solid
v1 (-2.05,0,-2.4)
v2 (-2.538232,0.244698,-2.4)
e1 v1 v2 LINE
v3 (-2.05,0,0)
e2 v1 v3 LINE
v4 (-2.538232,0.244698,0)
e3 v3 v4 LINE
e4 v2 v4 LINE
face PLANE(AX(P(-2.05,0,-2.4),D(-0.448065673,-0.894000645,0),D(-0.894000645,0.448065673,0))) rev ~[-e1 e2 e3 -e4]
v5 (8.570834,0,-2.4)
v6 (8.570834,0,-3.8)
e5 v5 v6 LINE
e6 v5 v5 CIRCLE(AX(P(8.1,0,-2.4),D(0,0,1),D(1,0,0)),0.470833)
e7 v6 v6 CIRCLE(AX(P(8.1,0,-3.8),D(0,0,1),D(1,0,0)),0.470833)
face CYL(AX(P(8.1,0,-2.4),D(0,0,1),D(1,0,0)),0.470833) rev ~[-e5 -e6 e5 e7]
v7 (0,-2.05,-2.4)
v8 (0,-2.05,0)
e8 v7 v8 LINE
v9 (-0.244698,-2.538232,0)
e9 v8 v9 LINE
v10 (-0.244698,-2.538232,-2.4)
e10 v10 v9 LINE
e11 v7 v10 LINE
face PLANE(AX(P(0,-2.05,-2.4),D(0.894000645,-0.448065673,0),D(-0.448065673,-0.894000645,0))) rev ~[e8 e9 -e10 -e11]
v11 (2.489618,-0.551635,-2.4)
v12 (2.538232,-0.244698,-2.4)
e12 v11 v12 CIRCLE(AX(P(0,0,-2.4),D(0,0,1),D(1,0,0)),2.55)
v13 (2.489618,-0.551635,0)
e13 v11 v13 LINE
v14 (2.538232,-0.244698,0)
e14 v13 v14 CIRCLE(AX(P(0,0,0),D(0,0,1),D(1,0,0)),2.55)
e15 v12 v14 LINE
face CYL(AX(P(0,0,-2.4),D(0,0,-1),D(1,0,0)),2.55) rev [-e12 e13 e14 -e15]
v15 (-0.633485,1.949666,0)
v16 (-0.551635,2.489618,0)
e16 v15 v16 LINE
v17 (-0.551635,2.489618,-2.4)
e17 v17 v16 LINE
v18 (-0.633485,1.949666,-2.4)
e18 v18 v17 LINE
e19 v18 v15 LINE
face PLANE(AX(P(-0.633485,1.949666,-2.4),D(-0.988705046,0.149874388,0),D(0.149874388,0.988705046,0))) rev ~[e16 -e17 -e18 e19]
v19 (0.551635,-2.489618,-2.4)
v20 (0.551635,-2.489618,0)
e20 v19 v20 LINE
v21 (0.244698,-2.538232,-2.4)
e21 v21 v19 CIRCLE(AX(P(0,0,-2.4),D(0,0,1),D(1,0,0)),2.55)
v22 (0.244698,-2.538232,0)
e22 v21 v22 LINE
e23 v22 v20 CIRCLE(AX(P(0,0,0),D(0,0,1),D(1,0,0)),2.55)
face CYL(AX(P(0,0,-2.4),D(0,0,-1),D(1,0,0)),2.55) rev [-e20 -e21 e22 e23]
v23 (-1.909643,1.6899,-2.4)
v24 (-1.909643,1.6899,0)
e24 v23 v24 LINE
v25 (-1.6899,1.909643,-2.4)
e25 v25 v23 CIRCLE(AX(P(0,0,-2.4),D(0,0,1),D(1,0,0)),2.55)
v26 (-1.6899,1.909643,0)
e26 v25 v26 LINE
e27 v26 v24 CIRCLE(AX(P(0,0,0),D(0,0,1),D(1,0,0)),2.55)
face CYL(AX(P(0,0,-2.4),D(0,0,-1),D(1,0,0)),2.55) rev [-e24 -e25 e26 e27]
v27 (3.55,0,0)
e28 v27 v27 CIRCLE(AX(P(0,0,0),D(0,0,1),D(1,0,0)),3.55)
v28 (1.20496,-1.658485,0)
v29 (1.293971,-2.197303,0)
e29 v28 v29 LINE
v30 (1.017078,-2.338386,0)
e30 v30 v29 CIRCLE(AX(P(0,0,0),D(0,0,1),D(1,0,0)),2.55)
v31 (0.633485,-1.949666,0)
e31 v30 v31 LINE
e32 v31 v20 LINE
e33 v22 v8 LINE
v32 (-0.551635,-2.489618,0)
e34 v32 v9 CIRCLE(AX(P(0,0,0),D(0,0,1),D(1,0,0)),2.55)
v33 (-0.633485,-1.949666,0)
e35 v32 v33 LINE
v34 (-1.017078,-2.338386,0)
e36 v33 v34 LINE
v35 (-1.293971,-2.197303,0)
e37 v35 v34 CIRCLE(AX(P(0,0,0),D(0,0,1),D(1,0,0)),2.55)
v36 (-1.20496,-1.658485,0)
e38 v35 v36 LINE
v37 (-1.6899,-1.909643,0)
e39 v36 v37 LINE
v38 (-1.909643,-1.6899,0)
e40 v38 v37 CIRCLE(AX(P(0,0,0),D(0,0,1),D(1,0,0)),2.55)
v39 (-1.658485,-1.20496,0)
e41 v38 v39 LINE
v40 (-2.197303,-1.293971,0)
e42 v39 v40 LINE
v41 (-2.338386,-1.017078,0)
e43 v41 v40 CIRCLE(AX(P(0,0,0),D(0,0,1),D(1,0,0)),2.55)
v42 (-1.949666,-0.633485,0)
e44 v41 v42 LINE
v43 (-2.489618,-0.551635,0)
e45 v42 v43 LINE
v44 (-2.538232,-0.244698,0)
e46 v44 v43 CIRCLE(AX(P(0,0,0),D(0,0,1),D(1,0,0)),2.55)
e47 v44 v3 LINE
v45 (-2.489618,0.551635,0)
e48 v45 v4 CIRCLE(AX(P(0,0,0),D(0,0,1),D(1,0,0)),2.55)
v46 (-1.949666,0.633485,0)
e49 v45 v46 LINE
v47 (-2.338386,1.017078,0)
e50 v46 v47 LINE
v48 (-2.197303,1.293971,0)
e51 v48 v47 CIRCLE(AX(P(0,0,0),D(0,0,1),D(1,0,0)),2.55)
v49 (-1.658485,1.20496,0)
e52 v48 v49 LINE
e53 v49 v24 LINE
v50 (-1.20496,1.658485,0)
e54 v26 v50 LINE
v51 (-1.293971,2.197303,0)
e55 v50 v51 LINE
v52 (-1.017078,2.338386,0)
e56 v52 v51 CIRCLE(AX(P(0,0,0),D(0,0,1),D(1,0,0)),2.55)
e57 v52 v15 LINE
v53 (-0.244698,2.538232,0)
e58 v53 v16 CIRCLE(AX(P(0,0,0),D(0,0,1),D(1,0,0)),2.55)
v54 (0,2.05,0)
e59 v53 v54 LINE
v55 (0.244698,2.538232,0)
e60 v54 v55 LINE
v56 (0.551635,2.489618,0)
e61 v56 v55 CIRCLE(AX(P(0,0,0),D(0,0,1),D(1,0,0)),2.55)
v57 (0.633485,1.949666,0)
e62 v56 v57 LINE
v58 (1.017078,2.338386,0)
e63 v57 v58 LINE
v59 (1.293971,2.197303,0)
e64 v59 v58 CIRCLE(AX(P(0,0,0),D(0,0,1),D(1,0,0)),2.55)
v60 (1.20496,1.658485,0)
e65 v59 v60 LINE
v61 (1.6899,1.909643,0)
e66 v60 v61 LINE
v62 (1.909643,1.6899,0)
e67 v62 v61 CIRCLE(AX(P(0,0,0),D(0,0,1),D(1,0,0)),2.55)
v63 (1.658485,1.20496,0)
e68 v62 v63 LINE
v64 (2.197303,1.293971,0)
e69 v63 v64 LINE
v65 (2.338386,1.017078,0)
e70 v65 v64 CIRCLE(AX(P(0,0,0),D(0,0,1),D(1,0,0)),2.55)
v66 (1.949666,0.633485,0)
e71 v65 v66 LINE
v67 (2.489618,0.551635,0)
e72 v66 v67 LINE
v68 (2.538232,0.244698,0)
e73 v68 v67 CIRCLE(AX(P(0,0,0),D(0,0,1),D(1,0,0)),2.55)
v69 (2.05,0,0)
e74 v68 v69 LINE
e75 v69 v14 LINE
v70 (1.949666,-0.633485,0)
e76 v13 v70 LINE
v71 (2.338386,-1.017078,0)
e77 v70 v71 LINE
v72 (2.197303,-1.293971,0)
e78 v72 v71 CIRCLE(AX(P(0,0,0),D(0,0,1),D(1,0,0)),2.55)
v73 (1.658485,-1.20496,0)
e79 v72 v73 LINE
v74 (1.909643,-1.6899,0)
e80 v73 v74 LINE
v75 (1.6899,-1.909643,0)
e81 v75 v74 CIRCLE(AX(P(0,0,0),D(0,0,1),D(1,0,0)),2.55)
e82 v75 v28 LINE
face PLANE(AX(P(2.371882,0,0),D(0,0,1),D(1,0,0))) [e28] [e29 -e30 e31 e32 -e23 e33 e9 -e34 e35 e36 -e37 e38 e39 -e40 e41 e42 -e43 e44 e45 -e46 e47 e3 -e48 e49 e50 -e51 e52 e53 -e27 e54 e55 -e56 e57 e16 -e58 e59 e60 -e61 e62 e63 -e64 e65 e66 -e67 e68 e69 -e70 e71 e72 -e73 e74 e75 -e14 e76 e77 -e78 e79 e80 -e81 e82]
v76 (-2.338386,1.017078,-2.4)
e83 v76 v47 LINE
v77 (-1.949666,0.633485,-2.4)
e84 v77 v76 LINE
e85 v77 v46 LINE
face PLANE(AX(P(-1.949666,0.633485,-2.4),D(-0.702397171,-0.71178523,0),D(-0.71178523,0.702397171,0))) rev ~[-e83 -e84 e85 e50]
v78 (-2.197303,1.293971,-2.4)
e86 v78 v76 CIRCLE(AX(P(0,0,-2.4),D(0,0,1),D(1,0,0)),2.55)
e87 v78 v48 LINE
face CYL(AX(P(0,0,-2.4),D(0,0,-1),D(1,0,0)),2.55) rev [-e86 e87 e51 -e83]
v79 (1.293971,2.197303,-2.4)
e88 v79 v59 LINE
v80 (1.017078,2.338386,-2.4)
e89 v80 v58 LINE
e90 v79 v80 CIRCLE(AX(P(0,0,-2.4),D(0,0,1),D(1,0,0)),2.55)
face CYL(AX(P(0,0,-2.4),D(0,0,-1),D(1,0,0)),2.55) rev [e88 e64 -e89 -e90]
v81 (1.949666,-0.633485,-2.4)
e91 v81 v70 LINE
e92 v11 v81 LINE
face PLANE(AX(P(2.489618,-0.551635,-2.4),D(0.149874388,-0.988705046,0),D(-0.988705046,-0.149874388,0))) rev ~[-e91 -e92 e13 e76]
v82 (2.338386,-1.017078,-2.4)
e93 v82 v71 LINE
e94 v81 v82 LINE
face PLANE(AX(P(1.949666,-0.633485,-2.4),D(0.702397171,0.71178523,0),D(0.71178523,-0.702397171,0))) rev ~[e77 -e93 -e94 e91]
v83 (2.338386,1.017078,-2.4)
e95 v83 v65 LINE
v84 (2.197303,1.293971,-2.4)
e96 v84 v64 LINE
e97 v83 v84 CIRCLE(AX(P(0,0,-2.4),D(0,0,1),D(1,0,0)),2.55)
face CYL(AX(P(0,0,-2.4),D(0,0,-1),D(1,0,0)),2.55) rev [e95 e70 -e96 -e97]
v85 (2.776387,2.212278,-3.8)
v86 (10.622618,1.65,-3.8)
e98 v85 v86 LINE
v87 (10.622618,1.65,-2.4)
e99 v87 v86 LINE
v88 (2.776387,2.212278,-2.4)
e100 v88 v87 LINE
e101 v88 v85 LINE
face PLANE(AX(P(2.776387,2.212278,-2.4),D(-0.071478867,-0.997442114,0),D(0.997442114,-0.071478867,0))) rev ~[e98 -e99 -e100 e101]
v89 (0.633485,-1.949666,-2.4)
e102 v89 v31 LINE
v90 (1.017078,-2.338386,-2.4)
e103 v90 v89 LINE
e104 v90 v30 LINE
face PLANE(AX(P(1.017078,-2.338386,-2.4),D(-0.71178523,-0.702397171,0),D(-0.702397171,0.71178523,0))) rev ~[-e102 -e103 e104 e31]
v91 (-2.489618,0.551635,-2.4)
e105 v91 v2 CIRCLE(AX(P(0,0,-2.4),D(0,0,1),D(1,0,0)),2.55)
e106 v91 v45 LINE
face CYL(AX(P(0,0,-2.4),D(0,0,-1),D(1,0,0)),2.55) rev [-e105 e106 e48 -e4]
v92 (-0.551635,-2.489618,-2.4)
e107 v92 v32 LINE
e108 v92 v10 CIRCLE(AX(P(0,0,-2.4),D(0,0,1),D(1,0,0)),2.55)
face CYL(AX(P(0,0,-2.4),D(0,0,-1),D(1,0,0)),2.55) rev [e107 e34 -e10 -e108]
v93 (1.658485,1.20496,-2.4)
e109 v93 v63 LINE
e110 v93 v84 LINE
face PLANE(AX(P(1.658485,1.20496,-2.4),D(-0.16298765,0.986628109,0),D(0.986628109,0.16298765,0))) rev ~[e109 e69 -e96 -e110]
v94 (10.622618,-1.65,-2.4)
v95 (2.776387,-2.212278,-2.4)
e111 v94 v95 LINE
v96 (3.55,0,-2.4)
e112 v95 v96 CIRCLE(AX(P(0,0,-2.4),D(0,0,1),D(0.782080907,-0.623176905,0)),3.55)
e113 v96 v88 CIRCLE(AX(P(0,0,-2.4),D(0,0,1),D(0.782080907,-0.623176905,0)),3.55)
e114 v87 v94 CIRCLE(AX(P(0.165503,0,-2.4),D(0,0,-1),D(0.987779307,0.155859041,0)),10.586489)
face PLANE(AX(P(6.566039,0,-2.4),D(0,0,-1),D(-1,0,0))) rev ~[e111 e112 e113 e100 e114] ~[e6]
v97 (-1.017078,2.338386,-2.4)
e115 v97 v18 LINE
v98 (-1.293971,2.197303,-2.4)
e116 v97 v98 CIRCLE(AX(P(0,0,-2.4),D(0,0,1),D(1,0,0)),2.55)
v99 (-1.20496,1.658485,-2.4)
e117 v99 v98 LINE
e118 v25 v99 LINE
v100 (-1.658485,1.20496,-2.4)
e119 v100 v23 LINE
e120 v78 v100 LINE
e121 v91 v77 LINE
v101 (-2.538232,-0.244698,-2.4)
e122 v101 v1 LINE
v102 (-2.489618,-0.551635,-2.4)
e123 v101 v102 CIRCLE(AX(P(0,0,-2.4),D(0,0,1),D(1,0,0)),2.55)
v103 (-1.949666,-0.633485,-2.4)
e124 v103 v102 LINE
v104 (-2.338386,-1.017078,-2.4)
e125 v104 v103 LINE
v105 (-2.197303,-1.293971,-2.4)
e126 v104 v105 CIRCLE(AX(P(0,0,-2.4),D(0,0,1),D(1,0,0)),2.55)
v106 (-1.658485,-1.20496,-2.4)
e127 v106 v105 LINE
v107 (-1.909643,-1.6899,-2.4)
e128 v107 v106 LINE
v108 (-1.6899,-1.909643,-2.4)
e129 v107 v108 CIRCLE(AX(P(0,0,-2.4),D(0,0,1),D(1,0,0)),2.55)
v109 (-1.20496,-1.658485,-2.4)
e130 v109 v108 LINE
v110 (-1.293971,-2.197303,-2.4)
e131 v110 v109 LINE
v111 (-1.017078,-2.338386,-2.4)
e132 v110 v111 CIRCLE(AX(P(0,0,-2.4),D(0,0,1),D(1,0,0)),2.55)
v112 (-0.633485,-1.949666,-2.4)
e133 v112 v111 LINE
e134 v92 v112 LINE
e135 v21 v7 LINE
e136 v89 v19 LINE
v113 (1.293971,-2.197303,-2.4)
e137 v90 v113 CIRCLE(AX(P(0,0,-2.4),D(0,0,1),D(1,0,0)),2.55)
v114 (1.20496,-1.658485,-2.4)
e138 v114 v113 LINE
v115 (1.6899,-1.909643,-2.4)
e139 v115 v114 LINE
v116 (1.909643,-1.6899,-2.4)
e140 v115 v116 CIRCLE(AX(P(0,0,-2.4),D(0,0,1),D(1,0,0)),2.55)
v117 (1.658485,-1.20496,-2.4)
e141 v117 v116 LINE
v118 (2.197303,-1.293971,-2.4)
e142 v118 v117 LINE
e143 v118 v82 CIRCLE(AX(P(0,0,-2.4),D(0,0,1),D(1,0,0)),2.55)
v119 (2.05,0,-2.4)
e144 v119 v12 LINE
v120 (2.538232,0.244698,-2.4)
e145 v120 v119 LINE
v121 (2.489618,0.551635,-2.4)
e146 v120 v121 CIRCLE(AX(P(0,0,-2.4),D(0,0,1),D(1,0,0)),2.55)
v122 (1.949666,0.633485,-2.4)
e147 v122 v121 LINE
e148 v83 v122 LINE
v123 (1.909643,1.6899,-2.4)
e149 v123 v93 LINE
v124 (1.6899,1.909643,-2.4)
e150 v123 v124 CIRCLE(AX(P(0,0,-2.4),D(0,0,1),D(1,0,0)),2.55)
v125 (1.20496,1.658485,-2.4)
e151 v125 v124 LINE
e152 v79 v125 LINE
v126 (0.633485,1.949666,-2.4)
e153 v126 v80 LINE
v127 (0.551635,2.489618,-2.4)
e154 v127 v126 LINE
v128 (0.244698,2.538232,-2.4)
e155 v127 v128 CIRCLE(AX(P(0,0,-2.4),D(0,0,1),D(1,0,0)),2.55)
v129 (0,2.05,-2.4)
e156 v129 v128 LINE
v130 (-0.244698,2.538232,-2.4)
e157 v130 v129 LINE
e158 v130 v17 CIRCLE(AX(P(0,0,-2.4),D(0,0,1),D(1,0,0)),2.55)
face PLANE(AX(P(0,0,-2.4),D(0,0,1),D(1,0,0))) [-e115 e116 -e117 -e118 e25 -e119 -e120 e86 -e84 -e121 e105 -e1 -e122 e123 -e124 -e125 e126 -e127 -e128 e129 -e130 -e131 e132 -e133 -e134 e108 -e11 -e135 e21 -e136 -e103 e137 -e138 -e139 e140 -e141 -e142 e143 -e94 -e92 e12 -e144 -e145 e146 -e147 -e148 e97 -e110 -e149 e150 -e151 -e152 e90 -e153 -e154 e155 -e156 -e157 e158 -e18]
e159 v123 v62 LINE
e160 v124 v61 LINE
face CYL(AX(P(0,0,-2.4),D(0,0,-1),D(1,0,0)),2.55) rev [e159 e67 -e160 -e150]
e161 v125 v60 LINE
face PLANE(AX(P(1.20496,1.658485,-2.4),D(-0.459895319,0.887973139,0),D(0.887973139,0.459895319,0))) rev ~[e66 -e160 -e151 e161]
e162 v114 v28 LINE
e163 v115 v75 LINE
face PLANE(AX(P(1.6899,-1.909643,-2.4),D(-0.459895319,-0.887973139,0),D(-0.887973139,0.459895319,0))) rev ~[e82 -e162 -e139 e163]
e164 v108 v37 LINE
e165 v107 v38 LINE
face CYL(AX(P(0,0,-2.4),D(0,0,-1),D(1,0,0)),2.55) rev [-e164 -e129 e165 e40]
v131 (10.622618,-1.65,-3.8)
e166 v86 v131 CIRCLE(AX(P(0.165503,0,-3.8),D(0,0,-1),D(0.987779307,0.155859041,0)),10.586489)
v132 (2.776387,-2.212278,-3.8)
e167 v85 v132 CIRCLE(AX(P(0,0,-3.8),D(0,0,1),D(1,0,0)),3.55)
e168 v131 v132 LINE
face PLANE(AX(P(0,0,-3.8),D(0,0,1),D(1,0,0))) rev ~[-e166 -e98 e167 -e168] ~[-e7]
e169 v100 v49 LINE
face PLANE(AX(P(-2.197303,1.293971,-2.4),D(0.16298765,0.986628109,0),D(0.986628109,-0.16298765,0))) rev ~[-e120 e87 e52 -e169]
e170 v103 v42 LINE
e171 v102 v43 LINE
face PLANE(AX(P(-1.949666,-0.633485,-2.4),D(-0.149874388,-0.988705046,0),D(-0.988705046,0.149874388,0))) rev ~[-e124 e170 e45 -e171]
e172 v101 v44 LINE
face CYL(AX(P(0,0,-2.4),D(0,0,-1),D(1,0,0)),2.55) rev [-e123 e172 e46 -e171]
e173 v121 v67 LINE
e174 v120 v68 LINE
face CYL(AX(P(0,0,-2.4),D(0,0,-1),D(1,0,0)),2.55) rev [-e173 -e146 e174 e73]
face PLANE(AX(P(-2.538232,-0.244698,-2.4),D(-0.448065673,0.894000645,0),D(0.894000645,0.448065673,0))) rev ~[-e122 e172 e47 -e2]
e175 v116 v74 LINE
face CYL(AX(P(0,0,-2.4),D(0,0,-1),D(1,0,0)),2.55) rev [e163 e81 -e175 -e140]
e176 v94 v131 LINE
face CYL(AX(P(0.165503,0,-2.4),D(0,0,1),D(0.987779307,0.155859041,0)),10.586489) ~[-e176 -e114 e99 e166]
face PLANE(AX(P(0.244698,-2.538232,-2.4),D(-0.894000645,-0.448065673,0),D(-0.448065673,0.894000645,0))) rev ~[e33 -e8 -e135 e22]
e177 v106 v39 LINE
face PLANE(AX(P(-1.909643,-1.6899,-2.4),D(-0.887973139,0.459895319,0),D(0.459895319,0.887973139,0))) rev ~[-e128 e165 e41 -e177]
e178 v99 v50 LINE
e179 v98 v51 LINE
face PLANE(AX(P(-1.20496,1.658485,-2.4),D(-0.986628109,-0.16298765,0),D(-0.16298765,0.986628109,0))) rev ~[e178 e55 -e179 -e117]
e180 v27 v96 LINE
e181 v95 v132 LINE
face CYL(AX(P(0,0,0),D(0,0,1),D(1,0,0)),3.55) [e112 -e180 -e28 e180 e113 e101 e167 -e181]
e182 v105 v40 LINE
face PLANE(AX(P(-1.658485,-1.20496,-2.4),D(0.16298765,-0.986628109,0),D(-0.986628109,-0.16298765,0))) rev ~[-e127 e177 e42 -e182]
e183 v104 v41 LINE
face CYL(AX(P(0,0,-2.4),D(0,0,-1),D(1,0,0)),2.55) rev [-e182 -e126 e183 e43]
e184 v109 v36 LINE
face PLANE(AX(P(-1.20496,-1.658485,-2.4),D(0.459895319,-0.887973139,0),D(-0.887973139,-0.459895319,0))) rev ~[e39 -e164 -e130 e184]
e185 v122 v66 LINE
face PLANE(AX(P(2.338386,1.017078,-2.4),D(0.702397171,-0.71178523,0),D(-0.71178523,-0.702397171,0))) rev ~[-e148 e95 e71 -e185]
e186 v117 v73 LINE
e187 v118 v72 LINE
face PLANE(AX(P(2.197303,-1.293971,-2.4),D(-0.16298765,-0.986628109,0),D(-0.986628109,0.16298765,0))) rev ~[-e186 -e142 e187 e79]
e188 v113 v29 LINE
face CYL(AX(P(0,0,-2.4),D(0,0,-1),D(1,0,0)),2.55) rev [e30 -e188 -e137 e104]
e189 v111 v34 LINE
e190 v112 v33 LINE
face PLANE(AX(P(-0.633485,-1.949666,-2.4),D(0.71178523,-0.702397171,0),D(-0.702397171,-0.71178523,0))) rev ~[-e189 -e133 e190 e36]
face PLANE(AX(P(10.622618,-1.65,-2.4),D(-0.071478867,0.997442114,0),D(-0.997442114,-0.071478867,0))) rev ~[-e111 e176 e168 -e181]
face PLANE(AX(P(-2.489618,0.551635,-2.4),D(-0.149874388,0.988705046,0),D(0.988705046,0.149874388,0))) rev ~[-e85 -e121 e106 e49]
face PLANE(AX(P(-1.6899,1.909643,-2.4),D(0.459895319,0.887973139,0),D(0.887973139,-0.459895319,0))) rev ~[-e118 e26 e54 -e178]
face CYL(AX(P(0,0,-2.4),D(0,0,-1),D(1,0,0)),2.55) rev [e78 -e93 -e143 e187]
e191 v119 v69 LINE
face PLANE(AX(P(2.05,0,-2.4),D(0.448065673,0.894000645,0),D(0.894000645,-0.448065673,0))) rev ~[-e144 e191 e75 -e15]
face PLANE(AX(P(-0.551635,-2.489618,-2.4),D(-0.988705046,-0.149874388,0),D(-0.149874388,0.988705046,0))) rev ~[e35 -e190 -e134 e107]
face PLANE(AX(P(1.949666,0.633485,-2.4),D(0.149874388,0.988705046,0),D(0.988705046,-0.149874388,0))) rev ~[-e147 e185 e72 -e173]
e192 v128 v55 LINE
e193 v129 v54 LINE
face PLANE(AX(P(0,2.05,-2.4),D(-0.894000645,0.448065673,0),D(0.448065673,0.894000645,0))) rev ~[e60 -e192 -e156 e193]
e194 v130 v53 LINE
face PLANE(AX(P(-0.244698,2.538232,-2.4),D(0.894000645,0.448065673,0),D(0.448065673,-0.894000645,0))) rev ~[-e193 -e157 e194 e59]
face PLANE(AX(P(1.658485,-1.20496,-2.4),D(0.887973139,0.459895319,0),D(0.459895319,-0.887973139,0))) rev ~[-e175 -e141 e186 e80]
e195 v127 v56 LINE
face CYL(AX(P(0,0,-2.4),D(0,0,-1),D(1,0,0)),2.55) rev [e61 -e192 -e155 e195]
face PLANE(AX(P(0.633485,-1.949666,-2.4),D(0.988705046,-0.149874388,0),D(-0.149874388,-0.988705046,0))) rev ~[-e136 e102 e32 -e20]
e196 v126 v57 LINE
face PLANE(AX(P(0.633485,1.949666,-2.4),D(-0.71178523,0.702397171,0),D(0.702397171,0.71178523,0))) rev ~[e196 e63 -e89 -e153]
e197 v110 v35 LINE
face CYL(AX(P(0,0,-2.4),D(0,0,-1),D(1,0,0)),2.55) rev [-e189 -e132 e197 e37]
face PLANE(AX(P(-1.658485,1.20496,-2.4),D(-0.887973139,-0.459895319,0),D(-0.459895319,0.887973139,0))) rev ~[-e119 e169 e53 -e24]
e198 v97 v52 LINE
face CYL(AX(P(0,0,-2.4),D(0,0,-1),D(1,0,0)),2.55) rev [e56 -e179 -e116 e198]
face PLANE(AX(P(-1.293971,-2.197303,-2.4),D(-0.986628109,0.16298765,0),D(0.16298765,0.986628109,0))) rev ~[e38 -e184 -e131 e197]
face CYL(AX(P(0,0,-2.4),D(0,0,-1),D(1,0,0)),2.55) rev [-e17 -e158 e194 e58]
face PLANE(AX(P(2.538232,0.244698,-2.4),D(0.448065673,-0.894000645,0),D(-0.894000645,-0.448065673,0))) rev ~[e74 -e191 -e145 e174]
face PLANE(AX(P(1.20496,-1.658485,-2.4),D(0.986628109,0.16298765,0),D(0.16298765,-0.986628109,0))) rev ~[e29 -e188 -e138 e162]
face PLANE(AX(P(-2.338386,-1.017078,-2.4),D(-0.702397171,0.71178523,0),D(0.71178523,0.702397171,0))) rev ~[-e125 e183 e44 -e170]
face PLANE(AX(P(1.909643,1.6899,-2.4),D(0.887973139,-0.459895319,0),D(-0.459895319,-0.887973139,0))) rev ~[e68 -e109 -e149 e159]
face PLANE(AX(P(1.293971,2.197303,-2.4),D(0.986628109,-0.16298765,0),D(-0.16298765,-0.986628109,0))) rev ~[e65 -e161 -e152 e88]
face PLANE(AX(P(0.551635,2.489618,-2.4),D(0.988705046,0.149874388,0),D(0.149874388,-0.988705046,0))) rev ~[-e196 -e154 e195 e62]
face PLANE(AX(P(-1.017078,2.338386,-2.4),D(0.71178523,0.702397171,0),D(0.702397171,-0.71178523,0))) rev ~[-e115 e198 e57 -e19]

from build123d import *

# Parameters (mm, degrees)
BOSS_EXTRUDE2_DEPTH = 1.4
SKETCH6_R           = 0.47083328
CUT_EXTRUDE1_DEPTH  = 12.066142252
SKETCH8_R           = 3.549999952
BOSS_EXTRUDE3_DEPTH = 3.8
CUT_EXTRUDE2_START  = -2.4
SKETCH9_R           = 2.549999919
CUT_EXTRUDE2_DEPTH  = 2.4
BOSS_EXTRUDE4_START = -2.4
BOSS_EXTRUDE4_DEPTH = 2.4


with BuildPart() as part:
    # Sketch5 → Boss-Extrude2 (new body)
    with BuildSketch(Plane.XY.offset(-2.4)):
        with BuildLine():
            Line((2.776387215, 2.212277889), (10.622617722, 1.649999976))
            ThreePointArc((10.622617722, 1.649999976), (10.75199195, 0), (10.622617722, -1.649999976))
            Line((10.622617722, -1.649999976), (2.776387215, -2.212277889))
            ThreePointArc((2.776387215, -2.212277889), (3.549999952, 0), (2.776387215, 2.212277889))
        make_face()
    extrude(amount=-BOSS_EXTRUDE2_DEPTH)

    # Sketch6 → Cut-Extrude1 (cut, through all)
    with BuildSketch(Plane.XY.offset(-2.4)):
        with Locations((8.100000381, 0)):
            Circle(SKETCH6_R)
    extrude(amount=-CUT_EXTRUDE1_DEPTH, mode=Mode.SUBTRACT)

    # Sketch8 → Boss-Extrude3 (add)
    with BuildSketch(Plane.XY):
        Circle(SKETCH8_R)
    extrude(amount=-BOSS_EXTRUDE3_DEPTH)

    # Sketch9 → Cut-Extrude2 (cut)
    with BuildSketch(Plane.XY.offset(CUT_EXTRUDE2_START)):
        Circle(SKETCH9_R)
    extrude(amount=CUT_EXTRUDE2_DEPTH, mode=Mode.SUBTRACT)

    # Sketch7 → Boss-Extrude4 (add)
    with BuildSketch(Plane.XY.offset(BOSS_EXTRUDE4_START)):
        with BuildLine():
            Line((-0.244697916, 2.538232164), (0, 2.049999952))
            Line((0, 2.049999952), (0.244697916, 2.538232164))
            ThreePointArc((0.244697916, 2.538232164), (0, 2.549999919), (-0.244697916, 2.538232164))
        make_face()
        with BuildLine():
            Line((0.551635326, 2.489618054), (0.633484824, 1.949665813))
            Line((0.633484824, 1.949665813), (1.017078422, 2.338386424))
            ThreePointArc((1.017078422, 2.338386424), (0.787993311, 2.42519404), (0.551635326, 2.489618054))
        make_face()
        with BuildLine():
            Line((1.29397066, 2.197302783), (1.204959739, 1.6584848))
            Line((1.204959739, 1.6584848), (1.689900206, 1.90964313))
            ThreePointArc((1.689900206, 1.90964313), (1.498852346, 2.06299327), (1.29397066, 2.197302783))
        make_face()
        with BuildLine():
            Line((1.90964313, 1.689900206), (1.6584848, 1.204959739))
            Line((1.6584848, 1.204959739), (2.197302783, 1.29397066))
            ThreePointArc((2.197302783, 1.29397066), (2.06299327, 1.498852346), (1.90964313, 1.689900206))
        make_face()
        with BuildLine():
            Line((2.338386424, 1.017078422), (1.949665813, 0.633484824))
            Line((1.949665813, 0.633484824), (2.489618054, 0.551635326))
            ThreePointArc((2.489618054, 0.551635326), (2.42519404, 0.787993311), (2.338386424, 1.017078422))
        make_face()
        with BuildLine():
            Line((2.538232164, 0.244697916), (2.049999952, 0))
            Line((2.049999952, 0), (2.538232164, -0.244697916))
            ThreePointArc((2.538232164, -0.244697916), (2.549999919, 0), (2.538232164, 0.244697916))
        make_face()
        with BuildLine():
            Line((2.489618054, -0.551635326), (1.949665813, -0.633484824))
            Line((1.949665813, -0.633484824), (2.338386424, -1.017078422))
            ThreePointArc((2.338386424, -1.017078422), (2.42519404, -0.787993311), (2.489618054, -0.551635326))
        make_face()
        with BuildLine():
            Line((2.197302783, -1.29397066), (1.6584848, -1.204959739))
            Line((1.6584848, -1.204959739), (1.90964313, -1.689900206))
            ThreePointArc((1.90964313, -1.689900206), (2.06299327, -1.498852346), (2.197302783, -1.29397066))
        make_face()
        with BuildLine():
            Line((1.689900206, -1.90964313), (1.204959739, -1.6584848))
            Line((1.204959739, -1.6584848), (1.29397066, -2.197302783))
            ThreePointArc((1.29397066, -2.197302783), (1.498852346, -2.06299327), (1.689900206, -1.90964313))
        make_face()
        with BuildLine():
            Line((1.017078422, -2.338386424), (0.633484824, -1.949665813))
            Line((0.633484824, -1.949665813), (0.551635326, -2.489618054))
            ThreePointArc((0.551635326, -2.489618054), (0.787993311, -2.42519404), (1.017078422, -2.338386424))
        make_face()
        with BuildLine():
            Line((0.244697916, -2.538232164), (0, -2.049999952))
            Line((0, -2.049999952), (-0.244697916, -2.538232164))
            ThreePointArc((-0.244697916, -2.538232164), (0, -2.549999919), (0.244697916, -2.538232164))
        make_face()
        with BuildLine():
            Line((-0.551635326, -2.489618054), (-0.633484824, -1.949665813))
            Line((-0.633484824, -1.949665813), (-1.017078422, -2.338386424))
            ThreePointArc((-1.017078422, -2.338386424), (-0.787993311, -2.42519404), (-0.551635326, -2.489618054))
        make_face()
        with BuildLine():
            Line((-1.29397066, -2.197302783), (-1.204959739, -1.6584848))
            Line((-1.204959739, -1.6584848), (-1.689900206, -1.90964313))
            ThreePointArc((-1.689900206, -1.90964313), (-1.498852346, -2.06299327), (-1.29397066, -2.197302783))
        make_face()
        with BuildLine():
            Line((-1.90964313, -1.689900206), (-1.6584848, -1.204959739))
            Line((-1.6584848, -1.204959739), (-2.197302783, -1.29397066))
            ThreePointArc((-2.197302783, -1.29397066), (-2.06299327, -1.498852346), (-1.90964313, -1.689900206))
        make_face()
        with BuildLine():
            Line((-2.338386424, -1.017078422), (-1.949665813, -0.633484824))
            Line((-1.949665813, -0.633484824), (-2.489618054, -0.551635326))
            ThreePointArc((-2.489618054, -0.551635326), (-2.42519404, -0.787993311), (-2.338386424, -1.017078422))
        make_face()
        with BuildLine():
            Line((-2.538232164, -0.244697916), (-2.049999952, 0))
            Line((-2.049999952, 0), (-2.538232164, 0.244697916))
            ThreePointArc((-2.538232164, 0.244697916), (-2.549999919, 0), (-2.538232164, -0.244697916))
        make_face()
        with BuildLine():
            Line((-2.489618054, 0.551635326), (-1.949665813, 0.633484824))
            Line((-1.949665813, 0.633484824), (-2.338386424, 1.017078422))
            ThreePointArc((-2.338386424, 1.017078422), (-2.42519404, 0.787993311), (-2.489618054, 0.551635326))
        make_face()
        with BuildLine():
            Line((-2.197302783, 1.29397066), (-1.6584848, 1.204959739))
            Line((-1.6584848, 1.204959739), (-1.90964313, 1.689900206))
            ThreePointArc((-1.90964313, 1.689900206), (-2.06299327, 1.498852346), (-2.197302783, 1.29397066))
        make_face()
        with BuildLine():
            Line((-1.689900206, 1.90964313), (-1.204959739, 1.6584848))
            Line((-1.204959739, 1.6584848), (-1.29397066, 2.197302783))
            ThreePointArc((-1.29397066, 2.197302783), (-1.498852346, 2.06299327), (-1.689900206, 1.90964313))
        make_face()
        with BuildLine():
            Line((-1.017078422, 2.338386424), (-0.633484824, 1.949665813))
            Line((-0.633484824, 1.949665813), (-0.551635326, 2.489618054))
            ThreePointArc((-0.551635326, 2.489618054), (-0.787993311, 2.42519404), (-1.017078422, 2.338386424))
        make_face()
    extrude(amount=BOSS_EXTRUDE4_DEPTH)


solid = part.part
